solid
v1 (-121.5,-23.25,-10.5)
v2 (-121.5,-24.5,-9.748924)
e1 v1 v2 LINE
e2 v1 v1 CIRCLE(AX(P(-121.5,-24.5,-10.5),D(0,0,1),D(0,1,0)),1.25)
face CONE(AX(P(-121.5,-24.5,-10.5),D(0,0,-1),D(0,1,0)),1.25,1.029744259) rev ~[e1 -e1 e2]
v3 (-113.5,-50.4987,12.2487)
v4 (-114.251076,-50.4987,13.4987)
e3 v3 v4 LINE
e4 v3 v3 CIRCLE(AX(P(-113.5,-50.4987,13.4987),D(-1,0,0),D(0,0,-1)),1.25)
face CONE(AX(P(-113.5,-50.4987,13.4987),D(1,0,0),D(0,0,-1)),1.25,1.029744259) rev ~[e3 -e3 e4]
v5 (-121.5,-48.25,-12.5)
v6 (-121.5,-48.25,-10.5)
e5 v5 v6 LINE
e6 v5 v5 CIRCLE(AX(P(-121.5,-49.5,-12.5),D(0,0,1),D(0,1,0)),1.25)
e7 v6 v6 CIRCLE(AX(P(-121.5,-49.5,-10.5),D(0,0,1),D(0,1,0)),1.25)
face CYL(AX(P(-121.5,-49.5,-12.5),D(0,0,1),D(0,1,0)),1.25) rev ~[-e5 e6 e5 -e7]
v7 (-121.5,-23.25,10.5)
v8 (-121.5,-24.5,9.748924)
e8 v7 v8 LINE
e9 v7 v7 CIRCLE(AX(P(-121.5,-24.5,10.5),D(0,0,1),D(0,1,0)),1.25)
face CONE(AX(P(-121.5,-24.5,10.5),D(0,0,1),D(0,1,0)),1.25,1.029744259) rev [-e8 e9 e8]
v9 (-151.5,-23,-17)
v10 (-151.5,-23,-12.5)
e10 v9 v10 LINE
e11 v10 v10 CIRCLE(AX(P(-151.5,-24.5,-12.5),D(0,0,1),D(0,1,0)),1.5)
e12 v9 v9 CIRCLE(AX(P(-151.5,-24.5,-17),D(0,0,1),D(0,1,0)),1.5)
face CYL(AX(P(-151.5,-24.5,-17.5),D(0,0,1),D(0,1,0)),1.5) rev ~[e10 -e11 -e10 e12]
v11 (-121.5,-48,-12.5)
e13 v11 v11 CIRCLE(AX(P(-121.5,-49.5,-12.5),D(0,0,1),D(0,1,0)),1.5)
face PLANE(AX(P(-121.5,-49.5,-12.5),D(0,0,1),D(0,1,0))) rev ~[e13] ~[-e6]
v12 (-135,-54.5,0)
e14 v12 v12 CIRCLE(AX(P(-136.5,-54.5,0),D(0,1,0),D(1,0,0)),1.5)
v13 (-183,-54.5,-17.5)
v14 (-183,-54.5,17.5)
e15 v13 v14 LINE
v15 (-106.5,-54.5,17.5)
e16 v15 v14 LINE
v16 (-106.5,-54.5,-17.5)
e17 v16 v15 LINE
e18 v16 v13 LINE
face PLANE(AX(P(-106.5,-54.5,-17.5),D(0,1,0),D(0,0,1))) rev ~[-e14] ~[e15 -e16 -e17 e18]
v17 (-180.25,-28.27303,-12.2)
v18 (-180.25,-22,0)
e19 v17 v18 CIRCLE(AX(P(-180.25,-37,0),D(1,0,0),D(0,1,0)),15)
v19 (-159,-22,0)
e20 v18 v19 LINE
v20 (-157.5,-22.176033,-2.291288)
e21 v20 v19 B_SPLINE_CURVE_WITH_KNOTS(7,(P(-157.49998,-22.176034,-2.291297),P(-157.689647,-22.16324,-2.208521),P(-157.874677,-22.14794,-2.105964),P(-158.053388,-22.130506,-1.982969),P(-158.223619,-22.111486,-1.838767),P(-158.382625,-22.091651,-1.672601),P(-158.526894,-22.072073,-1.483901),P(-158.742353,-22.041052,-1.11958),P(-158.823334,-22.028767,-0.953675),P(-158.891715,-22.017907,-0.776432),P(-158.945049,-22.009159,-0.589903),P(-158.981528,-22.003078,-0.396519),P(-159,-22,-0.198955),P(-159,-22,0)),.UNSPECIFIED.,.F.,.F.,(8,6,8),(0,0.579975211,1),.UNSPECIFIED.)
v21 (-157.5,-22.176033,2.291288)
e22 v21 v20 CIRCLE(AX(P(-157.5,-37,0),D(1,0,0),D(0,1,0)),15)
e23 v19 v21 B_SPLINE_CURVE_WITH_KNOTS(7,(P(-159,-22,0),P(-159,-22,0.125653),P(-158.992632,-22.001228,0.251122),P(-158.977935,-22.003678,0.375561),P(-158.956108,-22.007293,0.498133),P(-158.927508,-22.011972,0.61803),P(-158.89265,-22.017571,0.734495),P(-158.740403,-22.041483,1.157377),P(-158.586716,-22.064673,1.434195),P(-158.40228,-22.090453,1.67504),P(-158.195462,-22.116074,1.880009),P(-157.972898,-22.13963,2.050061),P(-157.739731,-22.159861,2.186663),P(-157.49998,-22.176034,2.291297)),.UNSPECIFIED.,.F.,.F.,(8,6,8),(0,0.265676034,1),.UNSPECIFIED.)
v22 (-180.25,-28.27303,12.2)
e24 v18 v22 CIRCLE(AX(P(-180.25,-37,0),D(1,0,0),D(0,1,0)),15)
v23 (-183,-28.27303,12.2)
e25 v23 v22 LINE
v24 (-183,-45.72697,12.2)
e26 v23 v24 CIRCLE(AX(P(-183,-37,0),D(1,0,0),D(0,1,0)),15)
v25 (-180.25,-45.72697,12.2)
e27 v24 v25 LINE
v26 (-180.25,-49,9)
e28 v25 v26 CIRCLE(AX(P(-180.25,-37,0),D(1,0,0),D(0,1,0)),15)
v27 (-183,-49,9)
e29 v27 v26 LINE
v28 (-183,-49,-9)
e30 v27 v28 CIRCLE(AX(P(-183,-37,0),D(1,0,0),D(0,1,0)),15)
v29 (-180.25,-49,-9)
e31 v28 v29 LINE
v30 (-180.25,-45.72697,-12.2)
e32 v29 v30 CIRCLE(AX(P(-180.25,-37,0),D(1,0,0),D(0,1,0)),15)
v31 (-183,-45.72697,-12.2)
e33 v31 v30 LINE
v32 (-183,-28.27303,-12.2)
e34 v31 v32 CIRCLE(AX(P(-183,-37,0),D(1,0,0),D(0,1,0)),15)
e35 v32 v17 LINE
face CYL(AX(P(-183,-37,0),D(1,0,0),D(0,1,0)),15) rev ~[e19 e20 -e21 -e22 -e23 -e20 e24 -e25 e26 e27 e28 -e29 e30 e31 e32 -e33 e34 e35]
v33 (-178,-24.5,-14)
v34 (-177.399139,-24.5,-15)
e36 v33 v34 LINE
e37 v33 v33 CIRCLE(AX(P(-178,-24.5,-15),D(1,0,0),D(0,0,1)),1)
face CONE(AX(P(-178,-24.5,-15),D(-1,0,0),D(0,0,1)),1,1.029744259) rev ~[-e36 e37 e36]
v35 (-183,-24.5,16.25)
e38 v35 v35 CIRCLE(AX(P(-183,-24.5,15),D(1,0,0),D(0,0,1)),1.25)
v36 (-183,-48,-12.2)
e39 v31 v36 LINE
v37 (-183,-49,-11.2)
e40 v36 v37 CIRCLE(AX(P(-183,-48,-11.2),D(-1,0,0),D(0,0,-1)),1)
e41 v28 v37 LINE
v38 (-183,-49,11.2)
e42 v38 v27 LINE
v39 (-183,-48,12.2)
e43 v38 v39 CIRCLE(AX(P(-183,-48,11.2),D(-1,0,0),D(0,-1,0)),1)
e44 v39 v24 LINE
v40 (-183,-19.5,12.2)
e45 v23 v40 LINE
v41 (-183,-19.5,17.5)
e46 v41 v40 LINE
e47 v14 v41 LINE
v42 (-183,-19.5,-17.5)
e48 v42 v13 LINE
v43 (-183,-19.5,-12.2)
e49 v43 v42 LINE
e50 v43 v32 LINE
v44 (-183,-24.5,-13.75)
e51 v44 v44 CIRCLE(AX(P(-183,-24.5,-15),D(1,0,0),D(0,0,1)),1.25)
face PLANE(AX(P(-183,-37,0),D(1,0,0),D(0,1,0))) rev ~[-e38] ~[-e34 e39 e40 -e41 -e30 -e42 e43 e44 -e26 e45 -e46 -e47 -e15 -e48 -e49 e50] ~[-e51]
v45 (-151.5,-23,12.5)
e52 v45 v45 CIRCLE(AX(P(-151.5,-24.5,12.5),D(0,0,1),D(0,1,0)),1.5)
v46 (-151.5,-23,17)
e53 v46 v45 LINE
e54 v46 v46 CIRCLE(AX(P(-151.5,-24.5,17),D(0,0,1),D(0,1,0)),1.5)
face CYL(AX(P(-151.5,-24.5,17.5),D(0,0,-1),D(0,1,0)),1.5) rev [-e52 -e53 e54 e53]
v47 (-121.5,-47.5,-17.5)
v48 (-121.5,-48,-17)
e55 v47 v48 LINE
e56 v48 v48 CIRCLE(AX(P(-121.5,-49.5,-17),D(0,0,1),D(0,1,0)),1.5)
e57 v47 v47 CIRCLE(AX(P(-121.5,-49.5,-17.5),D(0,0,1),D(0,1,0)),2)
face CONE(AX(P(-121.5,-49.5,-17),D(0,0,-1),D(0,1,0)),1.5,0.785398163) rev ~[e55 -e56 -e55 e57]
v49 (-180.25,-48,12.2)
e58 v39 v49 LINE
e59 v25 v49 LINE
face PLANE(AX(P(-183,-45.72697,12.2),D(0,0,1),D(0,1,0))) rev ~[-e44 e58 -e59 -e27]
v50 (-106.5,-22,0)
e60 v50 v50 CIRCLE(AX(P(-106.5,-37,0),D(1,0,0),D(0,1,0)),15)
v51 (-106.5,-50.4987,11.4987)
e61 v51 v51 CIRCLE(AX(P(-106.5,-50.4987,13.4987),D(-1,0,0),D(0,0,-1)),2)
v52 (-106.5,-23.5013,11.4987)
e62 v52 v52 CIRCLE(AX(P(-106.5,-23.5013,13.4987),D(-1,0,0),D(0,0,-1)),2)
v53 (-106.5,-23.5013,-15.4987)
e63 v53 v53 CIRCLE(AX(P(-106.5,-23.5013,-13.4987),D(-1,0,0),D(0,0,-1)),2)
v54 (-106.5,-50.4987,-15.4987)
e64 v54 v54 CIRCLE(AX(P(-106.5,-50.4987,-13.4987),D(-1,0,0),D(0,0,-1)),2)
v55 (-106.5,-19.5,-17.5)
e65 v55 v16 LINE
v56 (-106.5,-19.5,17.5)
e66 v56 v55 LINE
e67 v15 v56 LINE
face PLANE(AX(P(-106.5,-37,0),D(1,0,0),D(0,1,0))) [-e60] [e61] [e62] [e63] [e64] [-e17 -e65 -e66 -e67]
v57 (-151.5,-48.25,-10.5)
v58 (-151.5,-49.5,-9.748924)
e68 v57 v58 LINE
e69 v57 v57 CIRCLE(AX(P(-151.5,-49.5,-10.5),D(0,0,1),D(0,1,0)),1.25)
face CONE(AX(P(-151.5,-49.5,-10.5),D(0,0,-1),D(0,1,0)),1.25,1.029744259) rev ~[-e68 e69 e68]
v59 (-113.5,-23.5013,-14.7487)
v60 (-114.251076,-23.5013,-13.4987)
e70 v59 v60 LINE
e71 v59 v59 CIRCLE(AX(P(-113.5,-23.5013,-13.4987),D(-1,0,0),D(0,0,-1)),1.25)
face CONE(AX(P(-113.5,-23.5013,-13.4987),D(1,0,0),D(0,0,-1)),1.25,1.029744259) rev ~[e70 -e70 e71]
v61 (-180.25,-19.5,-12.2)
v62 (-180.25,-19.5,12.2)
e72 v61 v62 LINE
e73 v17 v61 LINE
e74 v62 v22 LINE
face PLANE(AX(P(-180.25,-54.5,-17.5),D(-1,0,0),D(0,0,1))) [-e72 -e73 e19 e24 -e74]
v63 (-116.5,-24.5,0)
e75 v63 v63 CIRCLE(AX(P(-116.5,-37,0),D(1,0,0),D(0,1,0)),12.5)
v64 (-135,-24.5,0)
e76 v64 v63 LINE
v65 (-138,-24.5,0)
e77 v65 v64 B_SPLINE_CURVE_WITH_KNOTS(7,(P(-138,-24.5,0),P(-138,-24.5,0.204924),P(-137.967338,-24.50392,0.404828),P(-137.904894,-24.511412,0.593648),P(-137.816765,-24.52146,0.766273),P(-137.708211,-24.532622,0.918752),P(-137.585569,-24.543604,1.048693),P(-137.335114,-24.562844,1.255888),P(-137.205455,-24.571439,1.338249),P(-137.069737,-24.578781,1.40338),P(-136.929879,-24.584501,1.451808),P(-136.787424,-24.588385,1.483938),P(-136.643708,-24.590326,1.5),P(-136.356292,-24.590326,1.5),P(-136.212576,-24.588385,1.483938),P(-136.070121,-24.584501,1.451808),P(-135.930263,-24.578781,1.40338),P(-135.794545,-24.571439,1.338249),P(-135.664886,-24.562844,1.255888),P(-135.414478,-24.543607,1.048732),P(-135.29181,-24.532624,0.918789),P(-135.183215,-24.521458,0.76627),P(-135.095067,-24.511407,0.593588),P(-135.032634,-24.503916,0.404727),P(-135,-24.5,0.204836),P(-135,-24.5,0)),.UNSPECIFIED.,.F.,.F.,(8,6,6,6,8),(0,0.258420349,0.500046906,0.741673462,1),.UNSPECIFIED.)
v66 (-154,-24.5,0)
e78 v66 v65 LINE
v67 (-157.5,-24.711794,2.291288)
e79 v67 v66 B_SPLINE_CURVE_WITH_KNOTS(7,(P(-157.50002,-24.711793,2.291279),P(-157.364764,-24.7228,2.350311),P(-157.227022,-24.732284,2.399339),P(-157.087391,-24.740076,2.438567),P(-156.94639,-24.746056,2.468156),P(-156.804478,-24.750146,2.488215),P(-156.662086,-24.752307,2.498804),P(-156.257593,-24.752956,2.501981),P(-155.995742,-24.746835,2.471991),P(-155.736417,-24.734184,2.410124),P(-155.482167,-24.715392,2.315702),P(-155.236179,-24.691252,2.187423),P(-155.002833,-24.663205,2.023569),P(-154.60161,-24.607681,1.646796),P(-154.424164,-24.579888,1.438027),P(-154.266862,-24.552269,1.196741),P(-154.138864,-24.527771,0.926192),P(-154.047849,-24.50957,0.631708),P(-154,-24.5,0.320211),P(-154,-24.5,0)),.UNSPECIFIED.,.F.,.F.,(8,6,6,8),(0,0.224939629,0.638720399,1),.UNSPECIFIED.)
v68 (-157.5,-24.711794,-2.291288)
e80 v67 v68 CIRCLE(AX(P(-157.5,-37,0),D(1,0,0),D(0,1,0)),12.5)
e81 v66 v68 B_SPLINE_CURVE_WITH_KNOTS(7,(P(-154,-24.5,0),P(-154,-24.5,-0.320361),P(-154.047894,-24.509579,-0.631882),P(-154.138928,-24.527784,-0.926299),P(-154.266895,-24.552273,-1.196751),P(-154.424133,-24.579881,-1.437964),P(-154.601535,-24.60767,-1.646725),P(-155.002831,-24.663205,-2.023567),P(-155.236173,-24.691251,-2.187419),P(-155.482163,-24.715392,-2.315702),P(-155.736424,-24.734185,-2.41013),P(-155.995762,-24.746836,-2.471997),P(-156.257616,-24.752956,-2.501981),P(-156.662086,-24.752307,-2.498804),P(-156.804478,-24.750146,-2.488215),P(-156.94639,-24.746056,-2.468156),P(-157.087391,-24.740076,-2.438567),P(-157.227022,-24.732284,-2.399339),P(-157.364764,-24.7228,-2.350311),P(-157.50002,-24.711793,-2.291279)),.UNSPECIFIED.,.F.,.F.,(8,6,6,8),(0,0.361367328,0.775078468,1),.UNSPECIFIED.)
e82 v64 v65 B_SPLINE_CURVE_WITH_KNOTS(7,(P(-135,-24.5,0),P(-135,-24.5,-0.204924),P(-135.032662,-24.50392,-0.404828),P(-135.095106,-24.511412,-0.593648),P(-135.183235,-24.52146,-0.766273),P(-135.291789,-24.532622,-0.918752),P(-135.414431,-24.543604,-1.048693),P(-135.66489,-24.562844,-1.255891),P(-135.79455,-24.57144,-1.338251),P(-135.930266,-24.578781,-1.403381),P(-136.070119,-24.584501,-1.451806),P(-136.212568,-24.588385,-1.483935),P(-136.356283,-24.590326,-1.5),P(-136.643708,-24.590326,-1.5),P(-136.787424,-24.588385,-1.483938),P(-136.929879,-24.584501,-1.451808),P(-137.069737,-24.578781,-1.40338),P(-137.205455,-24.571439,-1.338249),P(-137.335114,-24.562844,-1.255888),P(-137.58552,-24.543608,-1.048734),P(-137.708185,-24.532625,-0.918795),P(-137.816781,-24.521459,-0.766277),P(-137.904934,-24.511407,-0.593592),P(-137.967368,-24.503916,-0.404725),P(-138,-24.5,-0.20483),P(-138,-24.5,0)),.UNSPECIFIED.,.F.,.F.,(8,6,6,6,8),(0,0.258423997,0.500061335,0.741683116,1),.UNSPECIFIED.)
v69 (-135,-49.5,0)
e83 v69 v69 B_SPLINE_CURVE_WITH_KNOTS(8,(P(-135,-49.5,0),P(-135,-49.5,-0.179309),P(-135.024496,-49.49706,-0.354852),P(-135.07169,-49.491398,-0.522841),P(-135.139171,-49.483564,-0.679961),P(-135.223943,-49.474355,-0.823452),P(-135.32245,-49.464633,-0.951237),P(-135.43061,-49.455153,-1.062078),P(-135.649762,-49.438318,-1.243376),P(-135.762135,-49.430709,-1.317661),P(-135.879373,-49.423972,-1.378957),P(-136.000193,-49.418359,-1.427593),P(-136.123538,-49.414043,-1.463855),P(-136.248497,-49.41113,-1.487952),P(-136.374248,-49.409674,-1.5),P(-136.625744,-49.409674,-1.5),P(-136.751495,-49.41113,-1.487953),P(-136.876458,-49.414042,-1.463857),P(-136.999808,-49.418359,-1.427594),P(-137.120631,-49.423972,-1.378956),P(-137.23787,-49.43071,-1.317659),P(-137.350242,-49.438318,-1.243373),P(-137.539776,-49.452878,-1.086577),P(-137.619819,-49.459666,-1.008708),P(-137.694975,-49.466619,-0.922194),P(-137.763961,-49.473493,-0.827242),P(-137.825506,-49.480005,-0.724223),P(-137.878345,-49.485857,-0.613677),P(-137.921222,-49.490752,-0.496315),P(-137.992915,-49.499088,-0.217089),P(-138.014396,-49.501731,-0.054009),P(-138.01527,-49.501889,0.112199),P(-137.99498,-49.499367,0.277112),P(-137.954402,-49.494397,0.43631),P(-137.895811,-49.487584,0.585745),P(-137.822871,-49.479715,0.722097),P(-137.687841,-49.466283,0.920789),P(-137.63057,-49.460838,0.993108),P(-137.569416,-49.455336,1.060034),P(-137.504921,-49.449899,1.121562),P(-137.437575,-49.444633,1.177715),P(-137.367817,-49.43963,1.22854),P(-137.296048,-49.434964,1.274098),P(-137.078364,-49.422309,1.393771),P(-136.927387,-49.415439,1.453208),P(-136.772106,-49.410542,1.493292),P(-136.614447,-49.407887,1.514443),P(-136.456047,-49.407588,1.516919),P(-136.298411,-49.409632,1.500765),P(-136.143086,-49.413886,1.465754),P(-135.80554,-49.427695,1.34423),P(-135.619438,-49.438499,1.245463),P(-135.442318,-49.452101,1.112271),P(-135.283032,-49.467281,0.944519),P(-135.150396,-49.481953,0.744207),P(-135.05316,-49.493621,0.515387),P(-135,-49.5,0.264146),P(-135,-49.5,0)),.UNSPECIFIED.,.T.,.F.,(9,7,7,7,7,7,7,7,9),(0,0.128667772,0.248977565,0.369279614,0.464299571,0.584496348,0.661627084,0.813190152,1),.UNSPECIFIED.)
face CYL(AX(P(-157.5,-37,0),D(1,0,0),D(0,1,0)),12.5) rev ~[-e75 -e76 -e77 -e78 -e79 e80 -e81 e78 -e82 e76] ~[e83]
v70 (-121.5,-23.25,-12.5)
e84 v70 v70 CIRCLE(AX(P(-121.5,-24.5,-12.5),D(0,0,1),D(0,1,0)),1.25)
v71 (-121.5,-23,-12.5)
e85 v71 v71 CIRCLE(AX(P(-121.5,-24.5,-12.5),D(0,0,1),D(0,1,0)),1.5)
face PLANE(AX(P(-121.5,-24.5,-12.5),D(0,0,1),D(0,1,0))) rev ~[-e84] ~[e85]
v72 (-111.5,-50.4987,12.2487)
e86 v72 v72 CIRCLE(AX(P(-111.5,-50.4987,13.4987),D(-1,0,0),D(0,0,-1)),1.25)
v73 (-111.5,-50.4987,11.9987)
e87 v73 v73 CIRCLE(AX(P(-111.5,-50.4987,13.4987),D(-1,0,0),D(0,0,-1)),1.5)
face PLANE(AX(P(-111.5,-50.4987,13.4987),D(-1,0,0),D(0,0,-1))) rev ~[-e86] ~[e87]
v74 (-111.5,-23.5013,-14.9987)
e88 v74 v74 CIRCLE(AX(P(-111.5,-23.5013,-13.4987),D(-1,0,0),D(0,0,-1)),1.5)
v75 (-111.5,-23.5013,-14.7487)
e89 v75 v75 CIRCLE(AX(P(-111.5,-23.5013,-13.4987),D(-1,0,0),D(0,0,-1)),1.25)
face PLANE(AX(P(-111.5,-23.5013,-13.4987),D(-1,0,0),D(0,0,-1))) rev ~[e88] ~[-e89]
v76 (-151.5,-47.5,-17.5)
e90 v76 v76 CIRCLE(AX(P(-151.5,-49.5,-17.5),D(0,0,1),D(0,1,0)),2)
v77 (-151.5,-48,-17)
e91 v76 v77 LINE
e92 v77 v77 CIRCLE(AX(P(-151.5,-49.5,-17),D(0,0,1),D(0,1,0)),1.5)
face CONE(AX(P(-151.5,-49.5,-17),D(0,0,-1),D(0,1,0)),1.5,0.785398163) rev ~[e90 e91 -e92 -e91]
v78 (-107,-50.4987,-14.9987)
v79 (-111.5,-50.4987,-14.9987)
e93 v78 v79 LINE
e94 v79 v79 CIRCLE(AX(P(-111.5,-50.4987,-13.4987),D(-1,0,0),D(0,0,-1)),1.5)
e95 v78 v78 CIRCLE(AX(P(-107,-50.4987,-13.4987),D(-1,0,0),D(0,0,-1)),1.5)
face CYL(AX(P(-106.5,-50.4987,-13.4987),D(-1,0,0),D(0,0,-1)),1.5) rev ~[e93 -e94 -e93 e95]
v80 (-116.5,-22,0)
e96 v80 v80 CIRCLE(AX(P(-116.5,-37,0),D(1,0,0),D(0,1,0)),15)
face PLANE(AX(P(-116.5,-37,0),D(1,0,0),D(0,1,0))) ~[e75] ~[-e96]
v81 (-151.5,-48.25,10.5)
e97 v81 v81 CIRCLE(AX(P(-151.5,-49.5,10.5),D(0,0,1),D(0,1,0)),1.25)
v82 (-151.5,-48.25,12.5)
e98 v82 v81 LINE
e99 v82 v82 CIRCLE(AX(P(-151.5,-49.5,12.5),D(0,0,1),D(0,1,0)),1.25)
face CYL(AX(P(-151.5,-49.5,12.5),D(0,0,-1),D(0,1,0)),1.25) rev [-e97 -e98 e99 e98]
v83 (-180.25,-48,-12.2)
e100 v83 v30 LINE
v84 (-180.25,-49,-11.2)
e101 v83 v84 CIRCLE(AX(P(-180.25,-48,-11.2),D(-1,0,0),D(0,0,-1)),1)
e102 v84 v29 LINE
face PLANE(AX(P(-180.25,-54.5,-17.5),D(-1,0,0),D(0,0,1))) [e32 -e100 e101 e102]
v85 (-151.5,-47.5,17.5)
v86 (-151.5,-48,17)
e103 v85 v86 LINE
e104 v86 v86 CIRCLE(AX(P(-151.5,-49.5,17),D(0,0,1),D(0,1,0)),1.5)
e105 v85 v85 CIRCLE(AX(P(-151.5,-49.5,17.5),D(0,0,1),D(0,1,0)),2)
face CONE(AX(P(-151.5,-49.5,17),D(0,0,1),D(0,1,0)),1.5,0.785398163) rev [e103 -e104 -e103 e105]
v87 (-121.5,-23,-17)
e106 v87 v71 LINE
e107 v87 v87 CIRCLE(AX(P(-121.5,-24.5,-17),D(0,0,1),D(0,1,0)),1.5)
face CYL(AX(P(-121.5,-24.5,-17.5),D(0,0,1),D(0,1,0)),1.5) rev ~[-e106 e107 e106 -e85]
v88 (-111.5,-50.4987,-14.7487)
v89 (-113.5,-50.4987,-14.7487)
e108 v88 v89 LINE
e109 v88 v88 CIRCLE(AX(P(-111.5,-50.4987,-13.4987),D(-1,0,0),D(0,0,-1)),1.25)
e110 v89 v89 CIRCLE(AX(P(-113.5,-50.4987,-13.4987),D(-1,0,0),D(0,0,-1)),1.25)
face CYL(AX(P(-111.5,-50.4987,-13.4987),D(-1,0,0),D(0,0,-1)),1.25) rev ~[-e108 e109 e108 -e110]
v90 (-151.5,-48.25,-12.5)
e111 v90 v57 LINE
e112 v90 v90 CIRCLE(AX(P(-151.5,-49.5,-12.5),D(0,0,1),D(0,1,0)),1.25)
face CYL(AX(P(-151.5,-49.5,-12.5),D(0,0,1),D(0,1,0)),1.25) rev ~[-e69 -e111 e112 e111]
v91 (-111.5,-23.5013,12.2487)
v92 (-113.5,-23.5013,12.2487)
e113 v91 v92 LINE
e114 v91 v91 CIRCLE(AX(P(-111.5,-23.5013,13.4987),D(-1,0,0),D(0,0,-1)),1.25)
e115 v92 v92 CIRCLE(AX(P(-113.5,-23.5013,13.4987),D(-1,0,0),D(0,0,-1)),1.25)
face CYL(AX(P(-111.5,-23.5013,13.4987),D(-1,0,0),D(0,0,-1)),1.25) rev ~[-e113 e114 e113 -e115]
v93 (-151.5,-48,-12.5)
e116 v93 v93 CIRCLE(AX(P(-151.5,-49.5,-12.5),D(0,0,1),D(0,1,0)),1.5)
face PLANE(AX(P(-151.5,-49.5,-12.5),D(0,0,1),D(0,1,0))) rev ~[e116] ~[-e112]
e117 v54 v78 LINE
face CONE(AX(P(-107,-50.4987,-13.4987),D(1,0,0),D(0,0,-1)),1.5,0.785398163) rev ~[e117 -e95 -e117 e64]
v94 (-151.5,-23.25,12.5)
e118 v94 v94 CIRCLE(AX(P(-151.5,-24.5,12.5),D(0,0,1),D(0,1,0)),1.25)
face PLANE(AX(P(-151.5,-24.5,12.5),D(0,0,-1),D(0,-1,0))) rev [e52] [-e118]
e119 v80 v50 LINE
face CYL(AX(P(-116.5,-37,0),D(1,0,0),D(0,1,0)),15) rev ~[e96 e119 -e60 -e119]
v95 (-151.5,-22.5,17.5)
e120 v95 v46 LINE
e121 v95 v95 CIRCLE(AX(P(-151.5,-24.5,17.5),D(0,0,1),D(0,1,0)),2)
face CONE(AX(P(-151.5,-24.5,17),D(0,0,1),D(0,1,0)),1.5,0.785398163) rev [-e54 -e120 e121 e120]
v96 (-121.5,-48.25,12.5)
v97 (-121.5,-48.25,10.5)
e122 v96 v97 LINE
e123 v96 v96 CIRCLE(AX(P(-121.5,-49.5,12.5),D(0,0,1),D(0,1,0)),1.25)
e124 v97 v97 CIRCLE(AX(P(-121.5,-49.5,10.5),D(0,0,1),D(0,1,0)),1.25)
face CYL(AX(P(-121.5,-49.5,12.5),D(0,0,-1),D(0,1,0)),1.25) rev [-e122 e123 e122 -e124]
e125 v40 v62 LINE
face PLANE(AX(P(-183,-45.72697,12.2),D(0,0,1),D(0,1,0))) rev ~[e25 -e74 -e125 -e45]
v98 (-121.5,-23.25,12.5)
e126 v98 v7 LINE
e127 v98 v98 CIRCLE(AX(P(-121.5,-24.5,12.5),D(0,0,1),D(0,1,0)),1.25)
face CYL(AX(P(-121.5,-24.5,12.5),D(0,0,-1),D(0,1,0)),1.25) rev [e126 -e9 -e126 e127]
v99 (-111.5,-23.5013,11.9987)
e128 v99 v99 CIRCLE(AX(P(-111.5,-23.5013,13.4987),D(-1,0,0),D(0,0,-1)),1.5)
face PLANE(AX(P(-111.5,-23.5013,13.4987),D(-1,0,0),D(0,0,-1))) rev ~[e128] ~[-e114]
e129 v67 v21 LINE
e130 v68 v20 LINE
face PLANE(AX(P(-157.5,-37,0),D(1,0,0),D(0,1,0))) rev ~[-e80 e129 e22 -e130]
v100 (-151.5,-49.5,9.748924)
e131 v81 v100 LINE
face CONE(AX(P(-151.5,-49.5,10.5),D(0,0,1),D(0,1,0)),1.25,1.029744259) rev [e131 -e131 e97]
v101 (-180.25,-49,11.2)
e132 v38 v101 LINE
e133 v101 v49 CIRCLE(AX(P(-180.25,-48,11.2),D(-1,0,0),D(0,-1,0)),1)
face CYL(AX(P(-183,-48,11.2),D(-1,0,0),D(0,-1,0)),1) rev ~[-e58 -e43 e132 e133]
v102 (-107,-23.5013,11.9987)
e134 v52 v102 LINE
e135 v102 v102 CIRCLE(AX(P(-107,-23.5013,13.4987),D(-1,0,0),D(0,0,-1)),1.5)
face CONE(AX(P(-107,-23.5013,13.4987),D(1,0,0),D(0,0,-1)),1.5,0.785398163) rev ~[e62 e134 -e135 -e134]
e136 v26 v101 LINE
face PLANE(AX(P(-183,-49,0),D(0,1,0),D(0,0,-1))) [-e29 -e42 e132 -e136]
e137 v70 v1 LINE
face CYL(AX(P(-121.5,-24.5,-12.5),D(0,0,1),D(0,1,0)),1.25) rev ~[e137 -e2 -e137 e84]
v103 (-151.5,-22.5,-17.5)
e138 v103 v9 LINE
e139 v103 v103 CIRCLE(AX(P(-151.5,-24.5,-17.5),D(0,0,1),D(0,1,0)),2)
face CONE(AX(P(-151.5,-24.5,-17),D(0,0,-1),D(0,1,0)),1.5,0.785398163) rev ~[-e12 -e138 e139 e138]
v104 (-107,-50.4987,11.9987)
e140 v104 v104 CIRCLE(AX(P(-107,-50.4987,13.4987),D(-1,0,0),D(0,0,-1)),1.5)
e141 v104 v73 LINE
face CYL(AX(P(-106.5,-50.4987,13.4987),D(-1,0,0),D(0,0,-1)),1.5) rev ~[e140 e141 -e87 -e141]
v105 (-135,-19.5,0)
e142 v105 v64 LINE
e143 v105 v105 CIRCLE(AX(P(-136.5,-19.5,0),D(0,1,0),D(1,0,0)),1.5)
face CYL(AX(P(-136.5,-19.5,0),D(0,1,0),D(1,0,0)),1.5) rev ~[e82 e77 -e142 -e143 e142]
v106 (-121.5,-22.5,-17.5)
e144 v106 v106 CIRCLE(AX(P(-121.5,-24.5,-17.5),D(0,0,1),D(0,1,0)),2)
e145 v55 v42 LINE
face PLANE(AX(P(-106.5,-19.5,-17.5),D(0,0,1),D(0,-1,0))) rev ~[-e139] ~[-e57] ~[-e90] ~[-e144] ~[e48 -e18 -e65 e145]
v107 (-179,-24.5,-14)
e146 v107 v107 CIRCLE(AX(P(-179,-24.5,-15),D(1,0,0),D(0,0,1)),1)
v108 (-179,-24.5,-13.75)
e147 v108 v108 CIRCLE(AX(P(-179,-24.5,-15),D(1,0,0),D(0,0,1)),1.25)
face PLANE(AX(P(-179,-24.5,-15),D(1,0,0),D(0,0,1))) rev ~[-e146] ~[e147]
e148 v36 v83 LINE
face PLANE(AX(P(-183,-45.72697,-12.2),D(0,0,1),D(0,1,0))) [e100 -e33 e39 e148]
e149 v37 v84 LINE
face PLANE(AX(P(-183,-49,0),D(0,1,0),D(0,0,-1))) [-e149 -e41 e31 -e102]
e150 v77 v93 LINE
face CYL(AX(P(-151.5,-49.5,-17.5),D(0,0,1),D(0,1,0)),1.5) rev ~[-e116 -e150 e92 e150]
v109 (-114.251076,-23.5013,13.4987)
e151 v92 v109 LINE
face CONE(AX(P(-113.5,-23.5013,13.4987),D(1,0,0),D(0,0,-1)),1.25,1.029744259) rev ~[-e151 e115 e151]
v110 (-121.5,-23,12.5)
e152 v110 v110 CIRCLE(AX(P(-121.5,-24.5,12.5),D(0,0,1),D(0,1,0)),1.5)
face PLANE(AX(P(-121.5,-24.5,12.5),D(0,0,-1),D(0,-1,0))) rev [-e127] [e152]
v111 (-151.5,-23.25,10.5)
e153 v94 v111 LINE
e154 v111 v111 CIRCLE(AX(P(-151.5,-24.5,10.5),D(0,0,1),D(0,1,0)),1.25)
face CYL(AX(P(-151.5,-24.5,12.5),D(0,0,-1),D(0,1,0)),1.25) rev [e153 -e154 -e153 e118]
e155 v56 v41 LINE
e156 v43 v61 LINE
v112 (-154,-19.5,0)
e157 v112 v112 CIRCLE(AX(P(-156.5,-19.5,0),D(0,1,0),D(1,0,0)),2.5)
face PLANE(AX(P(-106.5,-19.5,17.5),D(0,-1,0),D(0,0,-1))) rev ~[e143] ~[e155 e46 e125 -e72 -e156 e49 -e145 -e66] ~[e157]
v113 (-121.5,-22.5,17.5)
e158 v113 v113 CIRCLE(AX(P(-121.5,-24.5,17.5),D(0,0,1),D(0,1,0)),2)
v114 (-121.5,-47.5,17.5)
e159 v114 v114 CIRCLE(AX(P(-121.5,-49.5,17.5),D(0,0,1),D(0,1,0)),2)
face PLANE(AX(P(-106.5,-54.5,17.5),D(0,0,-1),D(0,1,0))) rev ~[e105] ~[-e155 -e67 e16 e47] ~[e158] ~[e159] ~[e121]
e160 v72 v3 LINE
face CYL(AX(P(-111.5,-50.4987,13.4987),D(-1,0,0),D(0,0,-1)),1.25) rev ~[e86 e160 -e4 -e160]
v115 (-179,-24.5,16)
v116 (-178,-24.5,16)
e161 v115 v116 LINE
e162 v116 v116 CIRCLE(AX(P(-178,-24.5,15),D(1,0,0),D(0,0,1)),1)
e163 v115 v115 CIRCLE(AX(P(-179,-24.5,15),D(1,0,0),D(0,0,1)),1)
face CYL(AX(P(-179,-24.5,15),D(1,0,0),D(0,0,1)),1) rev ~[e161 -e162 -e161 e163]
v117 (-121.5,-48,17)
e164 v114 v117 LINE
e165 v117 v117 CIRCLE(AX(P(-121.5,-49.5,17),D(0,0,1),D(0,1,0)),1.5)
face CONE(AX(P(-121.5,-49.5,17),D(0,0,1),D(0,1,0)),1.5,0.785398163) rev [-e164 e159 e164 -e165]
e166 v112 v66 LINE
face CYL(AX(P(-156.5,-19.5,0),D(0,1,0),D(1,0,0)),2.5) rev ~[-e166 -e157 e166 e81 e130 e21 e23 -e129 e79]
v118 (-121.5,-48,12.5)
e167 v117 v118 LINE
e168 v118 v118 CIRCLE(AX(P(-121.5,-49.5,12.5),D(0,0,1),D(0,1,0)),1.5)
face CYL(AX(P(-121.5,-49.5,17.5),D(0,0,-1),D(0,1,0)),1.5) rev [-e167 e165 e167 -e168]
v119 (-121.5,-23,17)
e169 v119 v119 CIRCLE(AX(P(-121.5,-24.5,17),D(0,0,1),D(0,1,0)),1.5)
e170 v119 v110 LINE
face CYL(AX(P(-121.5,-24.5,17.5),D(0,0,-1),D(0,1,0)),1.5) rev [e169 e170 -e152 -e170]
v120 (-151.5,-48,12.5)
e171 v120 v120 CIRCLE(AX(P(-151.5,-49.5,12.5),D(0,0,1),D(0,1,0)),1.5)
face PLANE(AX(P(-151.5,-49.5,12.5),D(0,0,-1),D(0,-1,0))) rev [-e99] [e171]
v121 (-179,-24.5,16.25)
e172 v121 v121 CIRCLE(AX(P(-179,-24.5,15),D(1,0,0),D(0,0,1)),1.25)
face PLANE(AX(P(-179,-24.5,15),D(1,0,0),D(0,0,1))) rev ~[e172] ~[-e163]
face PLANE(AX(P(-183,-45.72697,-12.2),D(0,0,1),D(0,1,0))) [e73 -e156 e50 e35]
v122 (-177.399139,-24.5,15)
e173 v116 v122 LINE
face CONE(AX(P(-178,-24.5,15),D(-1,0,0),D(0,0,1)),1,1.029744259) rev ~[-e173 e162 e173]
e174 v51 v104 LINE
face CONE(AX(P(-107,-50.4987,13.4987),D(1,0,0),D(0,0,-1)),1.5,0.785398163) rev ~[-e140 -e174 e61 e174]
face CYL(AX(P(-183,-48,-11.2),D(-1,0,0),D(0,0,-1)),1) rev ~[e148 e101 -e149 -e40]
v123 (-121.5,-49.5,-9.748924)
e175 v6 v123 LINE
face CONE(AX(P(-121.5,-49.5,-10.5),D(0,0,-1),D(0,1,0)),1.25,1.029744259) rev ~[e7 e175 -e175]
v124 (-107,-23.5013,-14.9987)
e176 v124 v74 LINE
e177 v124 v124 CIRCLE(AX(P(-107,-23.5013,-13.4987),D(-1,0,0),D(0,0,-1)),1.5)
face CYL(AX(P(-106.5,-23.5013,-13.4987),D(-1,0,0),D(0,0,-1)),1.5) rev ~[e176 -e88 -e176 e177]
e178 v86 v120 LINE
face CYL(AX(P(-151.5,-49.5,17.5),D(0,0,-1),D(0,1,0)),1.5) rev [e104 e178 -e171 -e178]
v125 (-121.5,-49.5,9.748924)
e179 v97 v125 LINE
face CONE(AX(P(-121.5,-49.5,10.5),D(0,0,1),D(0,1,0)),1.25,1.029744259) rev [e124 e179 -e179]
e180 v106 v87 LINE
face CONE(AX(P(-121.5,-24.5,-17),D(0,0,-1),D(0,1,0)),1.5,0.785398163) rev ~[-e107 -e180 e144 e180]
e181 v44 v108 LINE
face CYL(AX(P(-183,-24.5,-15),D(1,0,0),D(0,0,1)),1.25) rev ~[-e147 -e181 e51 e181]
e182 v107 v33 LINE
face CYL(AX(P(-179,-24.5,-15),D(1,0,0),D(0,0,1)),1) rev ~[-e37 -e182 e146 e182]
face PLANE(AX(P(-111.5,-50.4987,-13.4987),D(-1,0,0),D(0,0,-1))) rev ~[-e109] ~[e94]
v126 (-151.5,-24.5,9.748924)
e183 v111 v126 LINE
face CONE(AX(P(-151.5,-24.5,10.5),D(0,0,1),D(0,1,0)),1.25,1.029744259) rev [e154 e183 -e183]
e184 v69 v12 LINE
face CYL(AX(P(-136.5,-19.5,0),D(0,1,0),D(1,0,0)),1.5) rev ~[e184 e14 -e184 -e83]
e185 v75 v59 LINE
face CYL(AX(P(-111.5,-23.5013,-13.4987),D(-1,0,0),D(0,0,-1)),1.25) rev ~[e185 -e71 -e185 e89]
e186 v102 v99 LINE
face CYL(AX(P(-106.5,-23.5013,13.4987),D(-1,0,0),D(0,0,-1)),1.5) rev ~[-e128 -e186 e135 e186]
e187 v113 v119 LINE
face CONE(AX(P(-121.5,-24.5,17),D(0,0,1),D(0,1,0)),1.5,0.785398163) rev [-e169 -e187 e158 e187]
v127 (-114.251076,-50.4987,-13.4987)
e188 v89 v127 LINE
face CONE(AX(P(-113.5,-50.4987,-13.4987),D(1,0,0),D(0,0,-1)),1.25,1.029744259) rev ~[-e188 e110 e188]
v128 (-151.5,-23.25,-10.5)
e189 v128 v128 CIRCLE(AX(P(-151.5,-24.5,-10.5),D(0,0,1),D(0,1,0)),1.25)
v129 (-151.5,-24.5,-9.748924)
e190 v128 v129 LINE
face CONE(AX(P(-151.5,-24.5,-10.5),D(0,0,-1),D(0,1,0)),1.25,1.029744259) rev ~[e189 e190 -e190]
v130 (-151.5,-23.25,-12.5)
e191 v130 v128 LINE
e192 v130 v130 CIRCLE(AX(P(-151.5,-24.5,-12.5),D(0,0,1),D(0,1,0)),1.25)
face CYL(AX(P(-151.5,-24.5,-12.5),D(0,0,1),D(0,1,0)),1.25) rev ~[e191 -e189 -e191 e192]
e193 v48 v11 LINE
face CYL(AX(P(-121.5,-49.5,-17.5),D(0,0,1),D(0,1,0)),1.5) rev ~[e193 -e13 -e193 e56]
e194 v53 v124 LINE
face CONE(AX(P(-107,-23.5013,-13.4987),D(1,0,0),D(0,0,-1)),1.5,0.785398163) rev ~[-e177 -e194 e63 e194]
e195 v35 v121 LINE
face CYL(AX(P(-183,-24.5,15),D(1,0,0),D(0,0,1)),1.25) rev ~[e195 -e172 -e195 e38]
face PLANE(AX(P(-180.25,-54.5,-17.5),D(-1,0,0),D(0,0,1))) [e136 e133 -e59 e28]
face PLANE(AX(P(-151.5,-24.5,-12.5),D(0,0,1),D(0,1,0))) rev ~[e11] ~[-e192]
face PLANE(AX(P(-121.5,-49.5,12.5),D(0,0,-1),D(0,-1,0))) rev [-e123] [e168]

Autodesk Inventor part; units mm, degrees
sketch "Sketch1" plane through (0, 0, 0) normal (0, 0, 1) x (1, 0, 0)
  line L0 (-183, -19.5) -> (-106.5, -19.5)
  line L1 (-106.5, -19.5) -> (-106.5, -54.5)
  line L2 (-106.5, -54.5) -> (-183, -54.5)
  line L3 (-183, -54.5) -> (-183, -19.5)
  line L4 (-194, -37) -> (-96, -37) construction
  line L5 (-183, -22) -> (-157.5, -22)
  line L6 (-157.5, -22) -> (-157.5, -37)
  line L7 (-157.5, -24.5) -> (-116.5, -24.5)
  line L8 (-116.5, -37) -> (-116.5, -22)
  line L9 (-116.5, -22) -> (-106.5, -22)
  line L10 (-183, -52) -> (-157.5, -52) construction
  line L11 (-157.5, -52) -> (-157.5, -37) construction
  line L12 (-157.5, -49.5) -> (-116.5, -49.5) construction
  line L13 (-116.5, -37) -> (-116.5, -52) construction
  line L14 (-116.5, -52) -> (-106.5, -52) construction
  line L15 (-183, -37) -> (-106.5, -37)
  point P0 (0, 0)
  dimension "d0" = 76.5
  dimension "d1" = 35
  dimension "d2" = 30
  dimension "d3" = 25.5
  dimension "d4" = 10
  dimension "d5" = 25
  dimension "d6" = 30
sketch "Sketch3" plane through (0, 0, 0) normal (1, 0, 0) x (0, 1, 0)
  point P0 (0, 0)
ref_plane "Work Plane1" through (-106.5, -37, 0) normal (1, 0, 0) x (0, 1, 0)
sketch "Sketch4" plane through (-106.5, -37, 0) normal (1, 0, 0) x (0, 1, 0)
  point P0 (37, 0)
sketch "Sketch5" plane through (-106.5, -37, 0) normal (1, 0, 0) x (0, 1, 0)
  line L0 (-17.5, 17.5) -> (17.5, 17.5)
  line L1 (17.5, 17.5) -> (17.5, -17.5)
  line L2 (17.5, -17.5) -> (-17.5, -17.5)
  line L3 (-17.5, -17.5) -> (-17.5, 17.5)
  line L4 (-17.5, 17.5) -> (17.5, -17.5) construction
  line L5 (17.5, 17.5) -> (-17.5, -17.5) construction
  point P0 (37, 0)
  point P1 (0, 0)
  dimension "d10" = 35
  dimension "d11" = 35
ref_plane "Work Plane2" through (-183, -37, 0) normal (1, 0, 0) x (0, 1, 0)
extrude "Extrusion1" add sketch "Sketch5" against normal up to surface (76.5 mm away)
revolve "Revolution2" cut sketch "Sketch1" angle 360 about axis through (-194, -37, 0) along (1, 0, 0) contours L5 L6 L15 L3 | L1 L15 L8 L9 | L6 L7 L8 L15
sketch "Sketch7" plane through (-106.5, -37, 0) normal (1, 0, 0) x (0, 0, -1)
  circle A0 centre (0, 0) radius 19.09
  line L0 (-17.5, -17.5) -> (17.5, -17.5) projected
  line L1 (-17.5, 17.5) -> (-17.5, -17.5) projected
  line L2 (17.5, -17.5) -> (-17.5, 17.5) construction
  circle A1 centre (13.4987, -13.4987) radius 1.5
  circle A2 centre (13.4987, 13.4987) radius 1.5
  circle A3 centre (-13.4987, 13.4987) radius 1.5
  circle A4 centre (-13.4987, -13.4987) radius 1.5
  point P0 (0, 37)
  dimension "d21" = 38.18
  dimension "d22" = 3
  dimension "d25" = 360
hole "Hole1" at (-106.5, -23.5013, -13.4987) at (-106.5, -23.5013, 13.4987) at (-106.5, -50.4987, 13.4987) at (-106.5, -50.4987, -13.4987) direction (-1, 0, 0) diameter 2.5 depth 7 tip angle 118 counterbore diameter 3 counterbore depth 5
sketch "Sketch8" plane through (-183, -54.5, -17.5) normal (-1, 0, 0) x (0, 0, 1)
  line L0 (17.5, -7) -> (17.5, 46)
  circle A0 centre (2.5, 30) radius 1.25
  line L1 (0, 35) -> (0, 0) projected
  line L2 (35, 35) -> (0, 35) projected
  circle A1 centre (32.5, 30) radius 1.25
  circle A2 centre (17.5, 17.5) radius 15 projected
  circle A3 centre (17.5, 17.5) radius 15 projected
  line L3 (5.3, 6.5) -> (5.3, 35)
  line L4 (0, 35) -> (35, 35) projected
  arc A4 (5.3, 6.5) -> (6.3, 5.5) centre (6.3, 6.5) ccw
  line L5 (17.5, 5.5) -> (6.3, 5.5)
  line L6 (29.7, 6.5) -> (29.7, 35)
  arc A5 (28.7, 5.5) -> (29.7, 6.5) centre (28.7, 6.5) ccw
  line L7 (17.5, 5.5) -> (28.7, 5.5)
  point P0 (17.5, 54.5)
  point P1 (17.5, 5.5)
  point P2 (5.3, 35)
  dimension "d34" = 2.5
  dimension "d35" = 2.5
  dimension "d36" = 5
  dimension "d38" = 1
  dimension "d39" = 29.5
  dimension "d40" = 24.4
extrude "Extrusion2" cut sketch "Sketch8" against normal blind 2.75 contours L5 A2 L3 L0 | L0 A2 L6 L7 | L5 A4 L3 A2 | A2 L6 A5 L7 | A2 L3 L2 L0 | L0 L2 L6 A2
hole "Hole2" at (-183, -24.5, -15) at (-183, -24.5, 15) direction (1, 0, 0) diameter 2 depth 5 tip angle 118 counterbore diameter 2.5 counterbore depth 4
ref_plane "Work Plane3" through (-106.5, -37, -17.5) normal (0, -1, 0) x (1, 0, 0)
sketch "Sketch9" plane through (-106.5, -37, -17.5) normal (0, -1, 0) x (1, 0, 0)
  point P0 (106.5, 17.5)
sketch "Sketch11" plane through (-106.5, -19.5, 17.5) normal (0, 1, 0) x (1, 0, 0)
  line L0 (-73.75, 5.3) -> (-76.5, 5.3) projected
  line L1 (-76.5, 0) -> (-76.5, 5.3) projected
  line L2 (0, 0) -> (-76.5, 0) projected
  line L3 (0, 35) -> (0, 0) projected
  line L4 (0, 35) -> (-76.5, 35) projected
  line L5 (-76.5, 29.7) -> (-76.5, 35) projected
  line L6 (-76.5, 29.7) -> (-73.75, 29.7) projected
  line L7 (-73.75, 29.7) -> (-73.75, 5.3) projected
  line L8 (28.2317, 17.5) -> (-103.7683, 17.5) construction
  circle A0 centre (-30, 17.5) radius 1.5
  circle A1 centre (-50, 17.5) radius 2.5
  point P0 (106.5, 17.5)
  point P1 (0, 17.5)
  dimension "d54" = 3
  dimension "d55" = 5
  dimension "d56" = 30
  dimension "d57" = 50
extrude "Extrusion3" cut sketch "Sketch11" against normal up to surface (35 mm away) contours A0
extrude "Extrusion4" cut sketch "Sketch11" against normal up to surface contours A1
sketch "Sketch12" plane through (-106.5, -54.5, -17.5) normal (0, 0, -1) x (-1, 0, 0)
  line L0 (76.5, 35) -> (76.5, 0) projected
  line L1 (0, 35) -> (76.5, 35) projected
  line L2 (0, 0) -> (0, 35) projected
  line L3 (0, 0) -> (76.5, 0) projected
  line L4 (-16, 17.5) -> (90, 17.5)
  circle A0 centre (15, 5) radius 1.5
  circle A1 centre (45, 5) radius 1.5
  circle A2 centre (15, 30) radius 1.5
  circle A3 centre (45, 30) radius 1.5
  point P0 (-106.5, 54.5)
  point P1 (0, 17.5)
  dimension "d62" = 3
  dimension "d63" = 15
  dimension "d64" = 5
  dimension "d67" = 30
hole "Hole3" at (-121.5, -24.5, -17.5) at (-151.5, -24.5, -17.5) at (-151.5, -49.5, -17.5) at (-121.5, -49.5, -17.5) direction (0, 0, 1) diameter 2.5 depth 7 tip angle 118 counterbore diameter 3 counterbore depth 5
ref_plane "Work Plane4" through (-106.5, -54.5, 0) normal (0, 0, -1) x (-1, 0, 0)
mirror "Mirror2" about plane through (-106.5, -54.5, 0) normal (0, 0, -1) of "Hole3"
chamfer "Chamfer3" distance 0.5 angle 45 4 edges at (-151.5, -51, -17.5) (-151.5, -26, -17.5) (-121.5, -51, -17.5) (-121.5, -26, -17.5) measured on face at (-172.9115, -40.8826, -17.5)
chamfer "Chamfer4" distance 0.5 angle 45 4 edges at (-151.5, -26, 17.5) (-151.5, -51, 17.5) (-121.5, -26, 17.5) (-121.5, -51, 17.5) measured on face at (-172.9115, -33.1174, 17.5)
chamfer "Chamfer5" distance 0.5 angle 45 4 edges at (-106.5, -50.4987, -11.9987) (-106.5, -23.5013, -11.9987) (-106.5, -50.4987, 14.9987) (-106.5, -23.5013, 14.9987) measured on face at (-106.5, -37.6027, 16.6302)
properties part number "shaft box"
